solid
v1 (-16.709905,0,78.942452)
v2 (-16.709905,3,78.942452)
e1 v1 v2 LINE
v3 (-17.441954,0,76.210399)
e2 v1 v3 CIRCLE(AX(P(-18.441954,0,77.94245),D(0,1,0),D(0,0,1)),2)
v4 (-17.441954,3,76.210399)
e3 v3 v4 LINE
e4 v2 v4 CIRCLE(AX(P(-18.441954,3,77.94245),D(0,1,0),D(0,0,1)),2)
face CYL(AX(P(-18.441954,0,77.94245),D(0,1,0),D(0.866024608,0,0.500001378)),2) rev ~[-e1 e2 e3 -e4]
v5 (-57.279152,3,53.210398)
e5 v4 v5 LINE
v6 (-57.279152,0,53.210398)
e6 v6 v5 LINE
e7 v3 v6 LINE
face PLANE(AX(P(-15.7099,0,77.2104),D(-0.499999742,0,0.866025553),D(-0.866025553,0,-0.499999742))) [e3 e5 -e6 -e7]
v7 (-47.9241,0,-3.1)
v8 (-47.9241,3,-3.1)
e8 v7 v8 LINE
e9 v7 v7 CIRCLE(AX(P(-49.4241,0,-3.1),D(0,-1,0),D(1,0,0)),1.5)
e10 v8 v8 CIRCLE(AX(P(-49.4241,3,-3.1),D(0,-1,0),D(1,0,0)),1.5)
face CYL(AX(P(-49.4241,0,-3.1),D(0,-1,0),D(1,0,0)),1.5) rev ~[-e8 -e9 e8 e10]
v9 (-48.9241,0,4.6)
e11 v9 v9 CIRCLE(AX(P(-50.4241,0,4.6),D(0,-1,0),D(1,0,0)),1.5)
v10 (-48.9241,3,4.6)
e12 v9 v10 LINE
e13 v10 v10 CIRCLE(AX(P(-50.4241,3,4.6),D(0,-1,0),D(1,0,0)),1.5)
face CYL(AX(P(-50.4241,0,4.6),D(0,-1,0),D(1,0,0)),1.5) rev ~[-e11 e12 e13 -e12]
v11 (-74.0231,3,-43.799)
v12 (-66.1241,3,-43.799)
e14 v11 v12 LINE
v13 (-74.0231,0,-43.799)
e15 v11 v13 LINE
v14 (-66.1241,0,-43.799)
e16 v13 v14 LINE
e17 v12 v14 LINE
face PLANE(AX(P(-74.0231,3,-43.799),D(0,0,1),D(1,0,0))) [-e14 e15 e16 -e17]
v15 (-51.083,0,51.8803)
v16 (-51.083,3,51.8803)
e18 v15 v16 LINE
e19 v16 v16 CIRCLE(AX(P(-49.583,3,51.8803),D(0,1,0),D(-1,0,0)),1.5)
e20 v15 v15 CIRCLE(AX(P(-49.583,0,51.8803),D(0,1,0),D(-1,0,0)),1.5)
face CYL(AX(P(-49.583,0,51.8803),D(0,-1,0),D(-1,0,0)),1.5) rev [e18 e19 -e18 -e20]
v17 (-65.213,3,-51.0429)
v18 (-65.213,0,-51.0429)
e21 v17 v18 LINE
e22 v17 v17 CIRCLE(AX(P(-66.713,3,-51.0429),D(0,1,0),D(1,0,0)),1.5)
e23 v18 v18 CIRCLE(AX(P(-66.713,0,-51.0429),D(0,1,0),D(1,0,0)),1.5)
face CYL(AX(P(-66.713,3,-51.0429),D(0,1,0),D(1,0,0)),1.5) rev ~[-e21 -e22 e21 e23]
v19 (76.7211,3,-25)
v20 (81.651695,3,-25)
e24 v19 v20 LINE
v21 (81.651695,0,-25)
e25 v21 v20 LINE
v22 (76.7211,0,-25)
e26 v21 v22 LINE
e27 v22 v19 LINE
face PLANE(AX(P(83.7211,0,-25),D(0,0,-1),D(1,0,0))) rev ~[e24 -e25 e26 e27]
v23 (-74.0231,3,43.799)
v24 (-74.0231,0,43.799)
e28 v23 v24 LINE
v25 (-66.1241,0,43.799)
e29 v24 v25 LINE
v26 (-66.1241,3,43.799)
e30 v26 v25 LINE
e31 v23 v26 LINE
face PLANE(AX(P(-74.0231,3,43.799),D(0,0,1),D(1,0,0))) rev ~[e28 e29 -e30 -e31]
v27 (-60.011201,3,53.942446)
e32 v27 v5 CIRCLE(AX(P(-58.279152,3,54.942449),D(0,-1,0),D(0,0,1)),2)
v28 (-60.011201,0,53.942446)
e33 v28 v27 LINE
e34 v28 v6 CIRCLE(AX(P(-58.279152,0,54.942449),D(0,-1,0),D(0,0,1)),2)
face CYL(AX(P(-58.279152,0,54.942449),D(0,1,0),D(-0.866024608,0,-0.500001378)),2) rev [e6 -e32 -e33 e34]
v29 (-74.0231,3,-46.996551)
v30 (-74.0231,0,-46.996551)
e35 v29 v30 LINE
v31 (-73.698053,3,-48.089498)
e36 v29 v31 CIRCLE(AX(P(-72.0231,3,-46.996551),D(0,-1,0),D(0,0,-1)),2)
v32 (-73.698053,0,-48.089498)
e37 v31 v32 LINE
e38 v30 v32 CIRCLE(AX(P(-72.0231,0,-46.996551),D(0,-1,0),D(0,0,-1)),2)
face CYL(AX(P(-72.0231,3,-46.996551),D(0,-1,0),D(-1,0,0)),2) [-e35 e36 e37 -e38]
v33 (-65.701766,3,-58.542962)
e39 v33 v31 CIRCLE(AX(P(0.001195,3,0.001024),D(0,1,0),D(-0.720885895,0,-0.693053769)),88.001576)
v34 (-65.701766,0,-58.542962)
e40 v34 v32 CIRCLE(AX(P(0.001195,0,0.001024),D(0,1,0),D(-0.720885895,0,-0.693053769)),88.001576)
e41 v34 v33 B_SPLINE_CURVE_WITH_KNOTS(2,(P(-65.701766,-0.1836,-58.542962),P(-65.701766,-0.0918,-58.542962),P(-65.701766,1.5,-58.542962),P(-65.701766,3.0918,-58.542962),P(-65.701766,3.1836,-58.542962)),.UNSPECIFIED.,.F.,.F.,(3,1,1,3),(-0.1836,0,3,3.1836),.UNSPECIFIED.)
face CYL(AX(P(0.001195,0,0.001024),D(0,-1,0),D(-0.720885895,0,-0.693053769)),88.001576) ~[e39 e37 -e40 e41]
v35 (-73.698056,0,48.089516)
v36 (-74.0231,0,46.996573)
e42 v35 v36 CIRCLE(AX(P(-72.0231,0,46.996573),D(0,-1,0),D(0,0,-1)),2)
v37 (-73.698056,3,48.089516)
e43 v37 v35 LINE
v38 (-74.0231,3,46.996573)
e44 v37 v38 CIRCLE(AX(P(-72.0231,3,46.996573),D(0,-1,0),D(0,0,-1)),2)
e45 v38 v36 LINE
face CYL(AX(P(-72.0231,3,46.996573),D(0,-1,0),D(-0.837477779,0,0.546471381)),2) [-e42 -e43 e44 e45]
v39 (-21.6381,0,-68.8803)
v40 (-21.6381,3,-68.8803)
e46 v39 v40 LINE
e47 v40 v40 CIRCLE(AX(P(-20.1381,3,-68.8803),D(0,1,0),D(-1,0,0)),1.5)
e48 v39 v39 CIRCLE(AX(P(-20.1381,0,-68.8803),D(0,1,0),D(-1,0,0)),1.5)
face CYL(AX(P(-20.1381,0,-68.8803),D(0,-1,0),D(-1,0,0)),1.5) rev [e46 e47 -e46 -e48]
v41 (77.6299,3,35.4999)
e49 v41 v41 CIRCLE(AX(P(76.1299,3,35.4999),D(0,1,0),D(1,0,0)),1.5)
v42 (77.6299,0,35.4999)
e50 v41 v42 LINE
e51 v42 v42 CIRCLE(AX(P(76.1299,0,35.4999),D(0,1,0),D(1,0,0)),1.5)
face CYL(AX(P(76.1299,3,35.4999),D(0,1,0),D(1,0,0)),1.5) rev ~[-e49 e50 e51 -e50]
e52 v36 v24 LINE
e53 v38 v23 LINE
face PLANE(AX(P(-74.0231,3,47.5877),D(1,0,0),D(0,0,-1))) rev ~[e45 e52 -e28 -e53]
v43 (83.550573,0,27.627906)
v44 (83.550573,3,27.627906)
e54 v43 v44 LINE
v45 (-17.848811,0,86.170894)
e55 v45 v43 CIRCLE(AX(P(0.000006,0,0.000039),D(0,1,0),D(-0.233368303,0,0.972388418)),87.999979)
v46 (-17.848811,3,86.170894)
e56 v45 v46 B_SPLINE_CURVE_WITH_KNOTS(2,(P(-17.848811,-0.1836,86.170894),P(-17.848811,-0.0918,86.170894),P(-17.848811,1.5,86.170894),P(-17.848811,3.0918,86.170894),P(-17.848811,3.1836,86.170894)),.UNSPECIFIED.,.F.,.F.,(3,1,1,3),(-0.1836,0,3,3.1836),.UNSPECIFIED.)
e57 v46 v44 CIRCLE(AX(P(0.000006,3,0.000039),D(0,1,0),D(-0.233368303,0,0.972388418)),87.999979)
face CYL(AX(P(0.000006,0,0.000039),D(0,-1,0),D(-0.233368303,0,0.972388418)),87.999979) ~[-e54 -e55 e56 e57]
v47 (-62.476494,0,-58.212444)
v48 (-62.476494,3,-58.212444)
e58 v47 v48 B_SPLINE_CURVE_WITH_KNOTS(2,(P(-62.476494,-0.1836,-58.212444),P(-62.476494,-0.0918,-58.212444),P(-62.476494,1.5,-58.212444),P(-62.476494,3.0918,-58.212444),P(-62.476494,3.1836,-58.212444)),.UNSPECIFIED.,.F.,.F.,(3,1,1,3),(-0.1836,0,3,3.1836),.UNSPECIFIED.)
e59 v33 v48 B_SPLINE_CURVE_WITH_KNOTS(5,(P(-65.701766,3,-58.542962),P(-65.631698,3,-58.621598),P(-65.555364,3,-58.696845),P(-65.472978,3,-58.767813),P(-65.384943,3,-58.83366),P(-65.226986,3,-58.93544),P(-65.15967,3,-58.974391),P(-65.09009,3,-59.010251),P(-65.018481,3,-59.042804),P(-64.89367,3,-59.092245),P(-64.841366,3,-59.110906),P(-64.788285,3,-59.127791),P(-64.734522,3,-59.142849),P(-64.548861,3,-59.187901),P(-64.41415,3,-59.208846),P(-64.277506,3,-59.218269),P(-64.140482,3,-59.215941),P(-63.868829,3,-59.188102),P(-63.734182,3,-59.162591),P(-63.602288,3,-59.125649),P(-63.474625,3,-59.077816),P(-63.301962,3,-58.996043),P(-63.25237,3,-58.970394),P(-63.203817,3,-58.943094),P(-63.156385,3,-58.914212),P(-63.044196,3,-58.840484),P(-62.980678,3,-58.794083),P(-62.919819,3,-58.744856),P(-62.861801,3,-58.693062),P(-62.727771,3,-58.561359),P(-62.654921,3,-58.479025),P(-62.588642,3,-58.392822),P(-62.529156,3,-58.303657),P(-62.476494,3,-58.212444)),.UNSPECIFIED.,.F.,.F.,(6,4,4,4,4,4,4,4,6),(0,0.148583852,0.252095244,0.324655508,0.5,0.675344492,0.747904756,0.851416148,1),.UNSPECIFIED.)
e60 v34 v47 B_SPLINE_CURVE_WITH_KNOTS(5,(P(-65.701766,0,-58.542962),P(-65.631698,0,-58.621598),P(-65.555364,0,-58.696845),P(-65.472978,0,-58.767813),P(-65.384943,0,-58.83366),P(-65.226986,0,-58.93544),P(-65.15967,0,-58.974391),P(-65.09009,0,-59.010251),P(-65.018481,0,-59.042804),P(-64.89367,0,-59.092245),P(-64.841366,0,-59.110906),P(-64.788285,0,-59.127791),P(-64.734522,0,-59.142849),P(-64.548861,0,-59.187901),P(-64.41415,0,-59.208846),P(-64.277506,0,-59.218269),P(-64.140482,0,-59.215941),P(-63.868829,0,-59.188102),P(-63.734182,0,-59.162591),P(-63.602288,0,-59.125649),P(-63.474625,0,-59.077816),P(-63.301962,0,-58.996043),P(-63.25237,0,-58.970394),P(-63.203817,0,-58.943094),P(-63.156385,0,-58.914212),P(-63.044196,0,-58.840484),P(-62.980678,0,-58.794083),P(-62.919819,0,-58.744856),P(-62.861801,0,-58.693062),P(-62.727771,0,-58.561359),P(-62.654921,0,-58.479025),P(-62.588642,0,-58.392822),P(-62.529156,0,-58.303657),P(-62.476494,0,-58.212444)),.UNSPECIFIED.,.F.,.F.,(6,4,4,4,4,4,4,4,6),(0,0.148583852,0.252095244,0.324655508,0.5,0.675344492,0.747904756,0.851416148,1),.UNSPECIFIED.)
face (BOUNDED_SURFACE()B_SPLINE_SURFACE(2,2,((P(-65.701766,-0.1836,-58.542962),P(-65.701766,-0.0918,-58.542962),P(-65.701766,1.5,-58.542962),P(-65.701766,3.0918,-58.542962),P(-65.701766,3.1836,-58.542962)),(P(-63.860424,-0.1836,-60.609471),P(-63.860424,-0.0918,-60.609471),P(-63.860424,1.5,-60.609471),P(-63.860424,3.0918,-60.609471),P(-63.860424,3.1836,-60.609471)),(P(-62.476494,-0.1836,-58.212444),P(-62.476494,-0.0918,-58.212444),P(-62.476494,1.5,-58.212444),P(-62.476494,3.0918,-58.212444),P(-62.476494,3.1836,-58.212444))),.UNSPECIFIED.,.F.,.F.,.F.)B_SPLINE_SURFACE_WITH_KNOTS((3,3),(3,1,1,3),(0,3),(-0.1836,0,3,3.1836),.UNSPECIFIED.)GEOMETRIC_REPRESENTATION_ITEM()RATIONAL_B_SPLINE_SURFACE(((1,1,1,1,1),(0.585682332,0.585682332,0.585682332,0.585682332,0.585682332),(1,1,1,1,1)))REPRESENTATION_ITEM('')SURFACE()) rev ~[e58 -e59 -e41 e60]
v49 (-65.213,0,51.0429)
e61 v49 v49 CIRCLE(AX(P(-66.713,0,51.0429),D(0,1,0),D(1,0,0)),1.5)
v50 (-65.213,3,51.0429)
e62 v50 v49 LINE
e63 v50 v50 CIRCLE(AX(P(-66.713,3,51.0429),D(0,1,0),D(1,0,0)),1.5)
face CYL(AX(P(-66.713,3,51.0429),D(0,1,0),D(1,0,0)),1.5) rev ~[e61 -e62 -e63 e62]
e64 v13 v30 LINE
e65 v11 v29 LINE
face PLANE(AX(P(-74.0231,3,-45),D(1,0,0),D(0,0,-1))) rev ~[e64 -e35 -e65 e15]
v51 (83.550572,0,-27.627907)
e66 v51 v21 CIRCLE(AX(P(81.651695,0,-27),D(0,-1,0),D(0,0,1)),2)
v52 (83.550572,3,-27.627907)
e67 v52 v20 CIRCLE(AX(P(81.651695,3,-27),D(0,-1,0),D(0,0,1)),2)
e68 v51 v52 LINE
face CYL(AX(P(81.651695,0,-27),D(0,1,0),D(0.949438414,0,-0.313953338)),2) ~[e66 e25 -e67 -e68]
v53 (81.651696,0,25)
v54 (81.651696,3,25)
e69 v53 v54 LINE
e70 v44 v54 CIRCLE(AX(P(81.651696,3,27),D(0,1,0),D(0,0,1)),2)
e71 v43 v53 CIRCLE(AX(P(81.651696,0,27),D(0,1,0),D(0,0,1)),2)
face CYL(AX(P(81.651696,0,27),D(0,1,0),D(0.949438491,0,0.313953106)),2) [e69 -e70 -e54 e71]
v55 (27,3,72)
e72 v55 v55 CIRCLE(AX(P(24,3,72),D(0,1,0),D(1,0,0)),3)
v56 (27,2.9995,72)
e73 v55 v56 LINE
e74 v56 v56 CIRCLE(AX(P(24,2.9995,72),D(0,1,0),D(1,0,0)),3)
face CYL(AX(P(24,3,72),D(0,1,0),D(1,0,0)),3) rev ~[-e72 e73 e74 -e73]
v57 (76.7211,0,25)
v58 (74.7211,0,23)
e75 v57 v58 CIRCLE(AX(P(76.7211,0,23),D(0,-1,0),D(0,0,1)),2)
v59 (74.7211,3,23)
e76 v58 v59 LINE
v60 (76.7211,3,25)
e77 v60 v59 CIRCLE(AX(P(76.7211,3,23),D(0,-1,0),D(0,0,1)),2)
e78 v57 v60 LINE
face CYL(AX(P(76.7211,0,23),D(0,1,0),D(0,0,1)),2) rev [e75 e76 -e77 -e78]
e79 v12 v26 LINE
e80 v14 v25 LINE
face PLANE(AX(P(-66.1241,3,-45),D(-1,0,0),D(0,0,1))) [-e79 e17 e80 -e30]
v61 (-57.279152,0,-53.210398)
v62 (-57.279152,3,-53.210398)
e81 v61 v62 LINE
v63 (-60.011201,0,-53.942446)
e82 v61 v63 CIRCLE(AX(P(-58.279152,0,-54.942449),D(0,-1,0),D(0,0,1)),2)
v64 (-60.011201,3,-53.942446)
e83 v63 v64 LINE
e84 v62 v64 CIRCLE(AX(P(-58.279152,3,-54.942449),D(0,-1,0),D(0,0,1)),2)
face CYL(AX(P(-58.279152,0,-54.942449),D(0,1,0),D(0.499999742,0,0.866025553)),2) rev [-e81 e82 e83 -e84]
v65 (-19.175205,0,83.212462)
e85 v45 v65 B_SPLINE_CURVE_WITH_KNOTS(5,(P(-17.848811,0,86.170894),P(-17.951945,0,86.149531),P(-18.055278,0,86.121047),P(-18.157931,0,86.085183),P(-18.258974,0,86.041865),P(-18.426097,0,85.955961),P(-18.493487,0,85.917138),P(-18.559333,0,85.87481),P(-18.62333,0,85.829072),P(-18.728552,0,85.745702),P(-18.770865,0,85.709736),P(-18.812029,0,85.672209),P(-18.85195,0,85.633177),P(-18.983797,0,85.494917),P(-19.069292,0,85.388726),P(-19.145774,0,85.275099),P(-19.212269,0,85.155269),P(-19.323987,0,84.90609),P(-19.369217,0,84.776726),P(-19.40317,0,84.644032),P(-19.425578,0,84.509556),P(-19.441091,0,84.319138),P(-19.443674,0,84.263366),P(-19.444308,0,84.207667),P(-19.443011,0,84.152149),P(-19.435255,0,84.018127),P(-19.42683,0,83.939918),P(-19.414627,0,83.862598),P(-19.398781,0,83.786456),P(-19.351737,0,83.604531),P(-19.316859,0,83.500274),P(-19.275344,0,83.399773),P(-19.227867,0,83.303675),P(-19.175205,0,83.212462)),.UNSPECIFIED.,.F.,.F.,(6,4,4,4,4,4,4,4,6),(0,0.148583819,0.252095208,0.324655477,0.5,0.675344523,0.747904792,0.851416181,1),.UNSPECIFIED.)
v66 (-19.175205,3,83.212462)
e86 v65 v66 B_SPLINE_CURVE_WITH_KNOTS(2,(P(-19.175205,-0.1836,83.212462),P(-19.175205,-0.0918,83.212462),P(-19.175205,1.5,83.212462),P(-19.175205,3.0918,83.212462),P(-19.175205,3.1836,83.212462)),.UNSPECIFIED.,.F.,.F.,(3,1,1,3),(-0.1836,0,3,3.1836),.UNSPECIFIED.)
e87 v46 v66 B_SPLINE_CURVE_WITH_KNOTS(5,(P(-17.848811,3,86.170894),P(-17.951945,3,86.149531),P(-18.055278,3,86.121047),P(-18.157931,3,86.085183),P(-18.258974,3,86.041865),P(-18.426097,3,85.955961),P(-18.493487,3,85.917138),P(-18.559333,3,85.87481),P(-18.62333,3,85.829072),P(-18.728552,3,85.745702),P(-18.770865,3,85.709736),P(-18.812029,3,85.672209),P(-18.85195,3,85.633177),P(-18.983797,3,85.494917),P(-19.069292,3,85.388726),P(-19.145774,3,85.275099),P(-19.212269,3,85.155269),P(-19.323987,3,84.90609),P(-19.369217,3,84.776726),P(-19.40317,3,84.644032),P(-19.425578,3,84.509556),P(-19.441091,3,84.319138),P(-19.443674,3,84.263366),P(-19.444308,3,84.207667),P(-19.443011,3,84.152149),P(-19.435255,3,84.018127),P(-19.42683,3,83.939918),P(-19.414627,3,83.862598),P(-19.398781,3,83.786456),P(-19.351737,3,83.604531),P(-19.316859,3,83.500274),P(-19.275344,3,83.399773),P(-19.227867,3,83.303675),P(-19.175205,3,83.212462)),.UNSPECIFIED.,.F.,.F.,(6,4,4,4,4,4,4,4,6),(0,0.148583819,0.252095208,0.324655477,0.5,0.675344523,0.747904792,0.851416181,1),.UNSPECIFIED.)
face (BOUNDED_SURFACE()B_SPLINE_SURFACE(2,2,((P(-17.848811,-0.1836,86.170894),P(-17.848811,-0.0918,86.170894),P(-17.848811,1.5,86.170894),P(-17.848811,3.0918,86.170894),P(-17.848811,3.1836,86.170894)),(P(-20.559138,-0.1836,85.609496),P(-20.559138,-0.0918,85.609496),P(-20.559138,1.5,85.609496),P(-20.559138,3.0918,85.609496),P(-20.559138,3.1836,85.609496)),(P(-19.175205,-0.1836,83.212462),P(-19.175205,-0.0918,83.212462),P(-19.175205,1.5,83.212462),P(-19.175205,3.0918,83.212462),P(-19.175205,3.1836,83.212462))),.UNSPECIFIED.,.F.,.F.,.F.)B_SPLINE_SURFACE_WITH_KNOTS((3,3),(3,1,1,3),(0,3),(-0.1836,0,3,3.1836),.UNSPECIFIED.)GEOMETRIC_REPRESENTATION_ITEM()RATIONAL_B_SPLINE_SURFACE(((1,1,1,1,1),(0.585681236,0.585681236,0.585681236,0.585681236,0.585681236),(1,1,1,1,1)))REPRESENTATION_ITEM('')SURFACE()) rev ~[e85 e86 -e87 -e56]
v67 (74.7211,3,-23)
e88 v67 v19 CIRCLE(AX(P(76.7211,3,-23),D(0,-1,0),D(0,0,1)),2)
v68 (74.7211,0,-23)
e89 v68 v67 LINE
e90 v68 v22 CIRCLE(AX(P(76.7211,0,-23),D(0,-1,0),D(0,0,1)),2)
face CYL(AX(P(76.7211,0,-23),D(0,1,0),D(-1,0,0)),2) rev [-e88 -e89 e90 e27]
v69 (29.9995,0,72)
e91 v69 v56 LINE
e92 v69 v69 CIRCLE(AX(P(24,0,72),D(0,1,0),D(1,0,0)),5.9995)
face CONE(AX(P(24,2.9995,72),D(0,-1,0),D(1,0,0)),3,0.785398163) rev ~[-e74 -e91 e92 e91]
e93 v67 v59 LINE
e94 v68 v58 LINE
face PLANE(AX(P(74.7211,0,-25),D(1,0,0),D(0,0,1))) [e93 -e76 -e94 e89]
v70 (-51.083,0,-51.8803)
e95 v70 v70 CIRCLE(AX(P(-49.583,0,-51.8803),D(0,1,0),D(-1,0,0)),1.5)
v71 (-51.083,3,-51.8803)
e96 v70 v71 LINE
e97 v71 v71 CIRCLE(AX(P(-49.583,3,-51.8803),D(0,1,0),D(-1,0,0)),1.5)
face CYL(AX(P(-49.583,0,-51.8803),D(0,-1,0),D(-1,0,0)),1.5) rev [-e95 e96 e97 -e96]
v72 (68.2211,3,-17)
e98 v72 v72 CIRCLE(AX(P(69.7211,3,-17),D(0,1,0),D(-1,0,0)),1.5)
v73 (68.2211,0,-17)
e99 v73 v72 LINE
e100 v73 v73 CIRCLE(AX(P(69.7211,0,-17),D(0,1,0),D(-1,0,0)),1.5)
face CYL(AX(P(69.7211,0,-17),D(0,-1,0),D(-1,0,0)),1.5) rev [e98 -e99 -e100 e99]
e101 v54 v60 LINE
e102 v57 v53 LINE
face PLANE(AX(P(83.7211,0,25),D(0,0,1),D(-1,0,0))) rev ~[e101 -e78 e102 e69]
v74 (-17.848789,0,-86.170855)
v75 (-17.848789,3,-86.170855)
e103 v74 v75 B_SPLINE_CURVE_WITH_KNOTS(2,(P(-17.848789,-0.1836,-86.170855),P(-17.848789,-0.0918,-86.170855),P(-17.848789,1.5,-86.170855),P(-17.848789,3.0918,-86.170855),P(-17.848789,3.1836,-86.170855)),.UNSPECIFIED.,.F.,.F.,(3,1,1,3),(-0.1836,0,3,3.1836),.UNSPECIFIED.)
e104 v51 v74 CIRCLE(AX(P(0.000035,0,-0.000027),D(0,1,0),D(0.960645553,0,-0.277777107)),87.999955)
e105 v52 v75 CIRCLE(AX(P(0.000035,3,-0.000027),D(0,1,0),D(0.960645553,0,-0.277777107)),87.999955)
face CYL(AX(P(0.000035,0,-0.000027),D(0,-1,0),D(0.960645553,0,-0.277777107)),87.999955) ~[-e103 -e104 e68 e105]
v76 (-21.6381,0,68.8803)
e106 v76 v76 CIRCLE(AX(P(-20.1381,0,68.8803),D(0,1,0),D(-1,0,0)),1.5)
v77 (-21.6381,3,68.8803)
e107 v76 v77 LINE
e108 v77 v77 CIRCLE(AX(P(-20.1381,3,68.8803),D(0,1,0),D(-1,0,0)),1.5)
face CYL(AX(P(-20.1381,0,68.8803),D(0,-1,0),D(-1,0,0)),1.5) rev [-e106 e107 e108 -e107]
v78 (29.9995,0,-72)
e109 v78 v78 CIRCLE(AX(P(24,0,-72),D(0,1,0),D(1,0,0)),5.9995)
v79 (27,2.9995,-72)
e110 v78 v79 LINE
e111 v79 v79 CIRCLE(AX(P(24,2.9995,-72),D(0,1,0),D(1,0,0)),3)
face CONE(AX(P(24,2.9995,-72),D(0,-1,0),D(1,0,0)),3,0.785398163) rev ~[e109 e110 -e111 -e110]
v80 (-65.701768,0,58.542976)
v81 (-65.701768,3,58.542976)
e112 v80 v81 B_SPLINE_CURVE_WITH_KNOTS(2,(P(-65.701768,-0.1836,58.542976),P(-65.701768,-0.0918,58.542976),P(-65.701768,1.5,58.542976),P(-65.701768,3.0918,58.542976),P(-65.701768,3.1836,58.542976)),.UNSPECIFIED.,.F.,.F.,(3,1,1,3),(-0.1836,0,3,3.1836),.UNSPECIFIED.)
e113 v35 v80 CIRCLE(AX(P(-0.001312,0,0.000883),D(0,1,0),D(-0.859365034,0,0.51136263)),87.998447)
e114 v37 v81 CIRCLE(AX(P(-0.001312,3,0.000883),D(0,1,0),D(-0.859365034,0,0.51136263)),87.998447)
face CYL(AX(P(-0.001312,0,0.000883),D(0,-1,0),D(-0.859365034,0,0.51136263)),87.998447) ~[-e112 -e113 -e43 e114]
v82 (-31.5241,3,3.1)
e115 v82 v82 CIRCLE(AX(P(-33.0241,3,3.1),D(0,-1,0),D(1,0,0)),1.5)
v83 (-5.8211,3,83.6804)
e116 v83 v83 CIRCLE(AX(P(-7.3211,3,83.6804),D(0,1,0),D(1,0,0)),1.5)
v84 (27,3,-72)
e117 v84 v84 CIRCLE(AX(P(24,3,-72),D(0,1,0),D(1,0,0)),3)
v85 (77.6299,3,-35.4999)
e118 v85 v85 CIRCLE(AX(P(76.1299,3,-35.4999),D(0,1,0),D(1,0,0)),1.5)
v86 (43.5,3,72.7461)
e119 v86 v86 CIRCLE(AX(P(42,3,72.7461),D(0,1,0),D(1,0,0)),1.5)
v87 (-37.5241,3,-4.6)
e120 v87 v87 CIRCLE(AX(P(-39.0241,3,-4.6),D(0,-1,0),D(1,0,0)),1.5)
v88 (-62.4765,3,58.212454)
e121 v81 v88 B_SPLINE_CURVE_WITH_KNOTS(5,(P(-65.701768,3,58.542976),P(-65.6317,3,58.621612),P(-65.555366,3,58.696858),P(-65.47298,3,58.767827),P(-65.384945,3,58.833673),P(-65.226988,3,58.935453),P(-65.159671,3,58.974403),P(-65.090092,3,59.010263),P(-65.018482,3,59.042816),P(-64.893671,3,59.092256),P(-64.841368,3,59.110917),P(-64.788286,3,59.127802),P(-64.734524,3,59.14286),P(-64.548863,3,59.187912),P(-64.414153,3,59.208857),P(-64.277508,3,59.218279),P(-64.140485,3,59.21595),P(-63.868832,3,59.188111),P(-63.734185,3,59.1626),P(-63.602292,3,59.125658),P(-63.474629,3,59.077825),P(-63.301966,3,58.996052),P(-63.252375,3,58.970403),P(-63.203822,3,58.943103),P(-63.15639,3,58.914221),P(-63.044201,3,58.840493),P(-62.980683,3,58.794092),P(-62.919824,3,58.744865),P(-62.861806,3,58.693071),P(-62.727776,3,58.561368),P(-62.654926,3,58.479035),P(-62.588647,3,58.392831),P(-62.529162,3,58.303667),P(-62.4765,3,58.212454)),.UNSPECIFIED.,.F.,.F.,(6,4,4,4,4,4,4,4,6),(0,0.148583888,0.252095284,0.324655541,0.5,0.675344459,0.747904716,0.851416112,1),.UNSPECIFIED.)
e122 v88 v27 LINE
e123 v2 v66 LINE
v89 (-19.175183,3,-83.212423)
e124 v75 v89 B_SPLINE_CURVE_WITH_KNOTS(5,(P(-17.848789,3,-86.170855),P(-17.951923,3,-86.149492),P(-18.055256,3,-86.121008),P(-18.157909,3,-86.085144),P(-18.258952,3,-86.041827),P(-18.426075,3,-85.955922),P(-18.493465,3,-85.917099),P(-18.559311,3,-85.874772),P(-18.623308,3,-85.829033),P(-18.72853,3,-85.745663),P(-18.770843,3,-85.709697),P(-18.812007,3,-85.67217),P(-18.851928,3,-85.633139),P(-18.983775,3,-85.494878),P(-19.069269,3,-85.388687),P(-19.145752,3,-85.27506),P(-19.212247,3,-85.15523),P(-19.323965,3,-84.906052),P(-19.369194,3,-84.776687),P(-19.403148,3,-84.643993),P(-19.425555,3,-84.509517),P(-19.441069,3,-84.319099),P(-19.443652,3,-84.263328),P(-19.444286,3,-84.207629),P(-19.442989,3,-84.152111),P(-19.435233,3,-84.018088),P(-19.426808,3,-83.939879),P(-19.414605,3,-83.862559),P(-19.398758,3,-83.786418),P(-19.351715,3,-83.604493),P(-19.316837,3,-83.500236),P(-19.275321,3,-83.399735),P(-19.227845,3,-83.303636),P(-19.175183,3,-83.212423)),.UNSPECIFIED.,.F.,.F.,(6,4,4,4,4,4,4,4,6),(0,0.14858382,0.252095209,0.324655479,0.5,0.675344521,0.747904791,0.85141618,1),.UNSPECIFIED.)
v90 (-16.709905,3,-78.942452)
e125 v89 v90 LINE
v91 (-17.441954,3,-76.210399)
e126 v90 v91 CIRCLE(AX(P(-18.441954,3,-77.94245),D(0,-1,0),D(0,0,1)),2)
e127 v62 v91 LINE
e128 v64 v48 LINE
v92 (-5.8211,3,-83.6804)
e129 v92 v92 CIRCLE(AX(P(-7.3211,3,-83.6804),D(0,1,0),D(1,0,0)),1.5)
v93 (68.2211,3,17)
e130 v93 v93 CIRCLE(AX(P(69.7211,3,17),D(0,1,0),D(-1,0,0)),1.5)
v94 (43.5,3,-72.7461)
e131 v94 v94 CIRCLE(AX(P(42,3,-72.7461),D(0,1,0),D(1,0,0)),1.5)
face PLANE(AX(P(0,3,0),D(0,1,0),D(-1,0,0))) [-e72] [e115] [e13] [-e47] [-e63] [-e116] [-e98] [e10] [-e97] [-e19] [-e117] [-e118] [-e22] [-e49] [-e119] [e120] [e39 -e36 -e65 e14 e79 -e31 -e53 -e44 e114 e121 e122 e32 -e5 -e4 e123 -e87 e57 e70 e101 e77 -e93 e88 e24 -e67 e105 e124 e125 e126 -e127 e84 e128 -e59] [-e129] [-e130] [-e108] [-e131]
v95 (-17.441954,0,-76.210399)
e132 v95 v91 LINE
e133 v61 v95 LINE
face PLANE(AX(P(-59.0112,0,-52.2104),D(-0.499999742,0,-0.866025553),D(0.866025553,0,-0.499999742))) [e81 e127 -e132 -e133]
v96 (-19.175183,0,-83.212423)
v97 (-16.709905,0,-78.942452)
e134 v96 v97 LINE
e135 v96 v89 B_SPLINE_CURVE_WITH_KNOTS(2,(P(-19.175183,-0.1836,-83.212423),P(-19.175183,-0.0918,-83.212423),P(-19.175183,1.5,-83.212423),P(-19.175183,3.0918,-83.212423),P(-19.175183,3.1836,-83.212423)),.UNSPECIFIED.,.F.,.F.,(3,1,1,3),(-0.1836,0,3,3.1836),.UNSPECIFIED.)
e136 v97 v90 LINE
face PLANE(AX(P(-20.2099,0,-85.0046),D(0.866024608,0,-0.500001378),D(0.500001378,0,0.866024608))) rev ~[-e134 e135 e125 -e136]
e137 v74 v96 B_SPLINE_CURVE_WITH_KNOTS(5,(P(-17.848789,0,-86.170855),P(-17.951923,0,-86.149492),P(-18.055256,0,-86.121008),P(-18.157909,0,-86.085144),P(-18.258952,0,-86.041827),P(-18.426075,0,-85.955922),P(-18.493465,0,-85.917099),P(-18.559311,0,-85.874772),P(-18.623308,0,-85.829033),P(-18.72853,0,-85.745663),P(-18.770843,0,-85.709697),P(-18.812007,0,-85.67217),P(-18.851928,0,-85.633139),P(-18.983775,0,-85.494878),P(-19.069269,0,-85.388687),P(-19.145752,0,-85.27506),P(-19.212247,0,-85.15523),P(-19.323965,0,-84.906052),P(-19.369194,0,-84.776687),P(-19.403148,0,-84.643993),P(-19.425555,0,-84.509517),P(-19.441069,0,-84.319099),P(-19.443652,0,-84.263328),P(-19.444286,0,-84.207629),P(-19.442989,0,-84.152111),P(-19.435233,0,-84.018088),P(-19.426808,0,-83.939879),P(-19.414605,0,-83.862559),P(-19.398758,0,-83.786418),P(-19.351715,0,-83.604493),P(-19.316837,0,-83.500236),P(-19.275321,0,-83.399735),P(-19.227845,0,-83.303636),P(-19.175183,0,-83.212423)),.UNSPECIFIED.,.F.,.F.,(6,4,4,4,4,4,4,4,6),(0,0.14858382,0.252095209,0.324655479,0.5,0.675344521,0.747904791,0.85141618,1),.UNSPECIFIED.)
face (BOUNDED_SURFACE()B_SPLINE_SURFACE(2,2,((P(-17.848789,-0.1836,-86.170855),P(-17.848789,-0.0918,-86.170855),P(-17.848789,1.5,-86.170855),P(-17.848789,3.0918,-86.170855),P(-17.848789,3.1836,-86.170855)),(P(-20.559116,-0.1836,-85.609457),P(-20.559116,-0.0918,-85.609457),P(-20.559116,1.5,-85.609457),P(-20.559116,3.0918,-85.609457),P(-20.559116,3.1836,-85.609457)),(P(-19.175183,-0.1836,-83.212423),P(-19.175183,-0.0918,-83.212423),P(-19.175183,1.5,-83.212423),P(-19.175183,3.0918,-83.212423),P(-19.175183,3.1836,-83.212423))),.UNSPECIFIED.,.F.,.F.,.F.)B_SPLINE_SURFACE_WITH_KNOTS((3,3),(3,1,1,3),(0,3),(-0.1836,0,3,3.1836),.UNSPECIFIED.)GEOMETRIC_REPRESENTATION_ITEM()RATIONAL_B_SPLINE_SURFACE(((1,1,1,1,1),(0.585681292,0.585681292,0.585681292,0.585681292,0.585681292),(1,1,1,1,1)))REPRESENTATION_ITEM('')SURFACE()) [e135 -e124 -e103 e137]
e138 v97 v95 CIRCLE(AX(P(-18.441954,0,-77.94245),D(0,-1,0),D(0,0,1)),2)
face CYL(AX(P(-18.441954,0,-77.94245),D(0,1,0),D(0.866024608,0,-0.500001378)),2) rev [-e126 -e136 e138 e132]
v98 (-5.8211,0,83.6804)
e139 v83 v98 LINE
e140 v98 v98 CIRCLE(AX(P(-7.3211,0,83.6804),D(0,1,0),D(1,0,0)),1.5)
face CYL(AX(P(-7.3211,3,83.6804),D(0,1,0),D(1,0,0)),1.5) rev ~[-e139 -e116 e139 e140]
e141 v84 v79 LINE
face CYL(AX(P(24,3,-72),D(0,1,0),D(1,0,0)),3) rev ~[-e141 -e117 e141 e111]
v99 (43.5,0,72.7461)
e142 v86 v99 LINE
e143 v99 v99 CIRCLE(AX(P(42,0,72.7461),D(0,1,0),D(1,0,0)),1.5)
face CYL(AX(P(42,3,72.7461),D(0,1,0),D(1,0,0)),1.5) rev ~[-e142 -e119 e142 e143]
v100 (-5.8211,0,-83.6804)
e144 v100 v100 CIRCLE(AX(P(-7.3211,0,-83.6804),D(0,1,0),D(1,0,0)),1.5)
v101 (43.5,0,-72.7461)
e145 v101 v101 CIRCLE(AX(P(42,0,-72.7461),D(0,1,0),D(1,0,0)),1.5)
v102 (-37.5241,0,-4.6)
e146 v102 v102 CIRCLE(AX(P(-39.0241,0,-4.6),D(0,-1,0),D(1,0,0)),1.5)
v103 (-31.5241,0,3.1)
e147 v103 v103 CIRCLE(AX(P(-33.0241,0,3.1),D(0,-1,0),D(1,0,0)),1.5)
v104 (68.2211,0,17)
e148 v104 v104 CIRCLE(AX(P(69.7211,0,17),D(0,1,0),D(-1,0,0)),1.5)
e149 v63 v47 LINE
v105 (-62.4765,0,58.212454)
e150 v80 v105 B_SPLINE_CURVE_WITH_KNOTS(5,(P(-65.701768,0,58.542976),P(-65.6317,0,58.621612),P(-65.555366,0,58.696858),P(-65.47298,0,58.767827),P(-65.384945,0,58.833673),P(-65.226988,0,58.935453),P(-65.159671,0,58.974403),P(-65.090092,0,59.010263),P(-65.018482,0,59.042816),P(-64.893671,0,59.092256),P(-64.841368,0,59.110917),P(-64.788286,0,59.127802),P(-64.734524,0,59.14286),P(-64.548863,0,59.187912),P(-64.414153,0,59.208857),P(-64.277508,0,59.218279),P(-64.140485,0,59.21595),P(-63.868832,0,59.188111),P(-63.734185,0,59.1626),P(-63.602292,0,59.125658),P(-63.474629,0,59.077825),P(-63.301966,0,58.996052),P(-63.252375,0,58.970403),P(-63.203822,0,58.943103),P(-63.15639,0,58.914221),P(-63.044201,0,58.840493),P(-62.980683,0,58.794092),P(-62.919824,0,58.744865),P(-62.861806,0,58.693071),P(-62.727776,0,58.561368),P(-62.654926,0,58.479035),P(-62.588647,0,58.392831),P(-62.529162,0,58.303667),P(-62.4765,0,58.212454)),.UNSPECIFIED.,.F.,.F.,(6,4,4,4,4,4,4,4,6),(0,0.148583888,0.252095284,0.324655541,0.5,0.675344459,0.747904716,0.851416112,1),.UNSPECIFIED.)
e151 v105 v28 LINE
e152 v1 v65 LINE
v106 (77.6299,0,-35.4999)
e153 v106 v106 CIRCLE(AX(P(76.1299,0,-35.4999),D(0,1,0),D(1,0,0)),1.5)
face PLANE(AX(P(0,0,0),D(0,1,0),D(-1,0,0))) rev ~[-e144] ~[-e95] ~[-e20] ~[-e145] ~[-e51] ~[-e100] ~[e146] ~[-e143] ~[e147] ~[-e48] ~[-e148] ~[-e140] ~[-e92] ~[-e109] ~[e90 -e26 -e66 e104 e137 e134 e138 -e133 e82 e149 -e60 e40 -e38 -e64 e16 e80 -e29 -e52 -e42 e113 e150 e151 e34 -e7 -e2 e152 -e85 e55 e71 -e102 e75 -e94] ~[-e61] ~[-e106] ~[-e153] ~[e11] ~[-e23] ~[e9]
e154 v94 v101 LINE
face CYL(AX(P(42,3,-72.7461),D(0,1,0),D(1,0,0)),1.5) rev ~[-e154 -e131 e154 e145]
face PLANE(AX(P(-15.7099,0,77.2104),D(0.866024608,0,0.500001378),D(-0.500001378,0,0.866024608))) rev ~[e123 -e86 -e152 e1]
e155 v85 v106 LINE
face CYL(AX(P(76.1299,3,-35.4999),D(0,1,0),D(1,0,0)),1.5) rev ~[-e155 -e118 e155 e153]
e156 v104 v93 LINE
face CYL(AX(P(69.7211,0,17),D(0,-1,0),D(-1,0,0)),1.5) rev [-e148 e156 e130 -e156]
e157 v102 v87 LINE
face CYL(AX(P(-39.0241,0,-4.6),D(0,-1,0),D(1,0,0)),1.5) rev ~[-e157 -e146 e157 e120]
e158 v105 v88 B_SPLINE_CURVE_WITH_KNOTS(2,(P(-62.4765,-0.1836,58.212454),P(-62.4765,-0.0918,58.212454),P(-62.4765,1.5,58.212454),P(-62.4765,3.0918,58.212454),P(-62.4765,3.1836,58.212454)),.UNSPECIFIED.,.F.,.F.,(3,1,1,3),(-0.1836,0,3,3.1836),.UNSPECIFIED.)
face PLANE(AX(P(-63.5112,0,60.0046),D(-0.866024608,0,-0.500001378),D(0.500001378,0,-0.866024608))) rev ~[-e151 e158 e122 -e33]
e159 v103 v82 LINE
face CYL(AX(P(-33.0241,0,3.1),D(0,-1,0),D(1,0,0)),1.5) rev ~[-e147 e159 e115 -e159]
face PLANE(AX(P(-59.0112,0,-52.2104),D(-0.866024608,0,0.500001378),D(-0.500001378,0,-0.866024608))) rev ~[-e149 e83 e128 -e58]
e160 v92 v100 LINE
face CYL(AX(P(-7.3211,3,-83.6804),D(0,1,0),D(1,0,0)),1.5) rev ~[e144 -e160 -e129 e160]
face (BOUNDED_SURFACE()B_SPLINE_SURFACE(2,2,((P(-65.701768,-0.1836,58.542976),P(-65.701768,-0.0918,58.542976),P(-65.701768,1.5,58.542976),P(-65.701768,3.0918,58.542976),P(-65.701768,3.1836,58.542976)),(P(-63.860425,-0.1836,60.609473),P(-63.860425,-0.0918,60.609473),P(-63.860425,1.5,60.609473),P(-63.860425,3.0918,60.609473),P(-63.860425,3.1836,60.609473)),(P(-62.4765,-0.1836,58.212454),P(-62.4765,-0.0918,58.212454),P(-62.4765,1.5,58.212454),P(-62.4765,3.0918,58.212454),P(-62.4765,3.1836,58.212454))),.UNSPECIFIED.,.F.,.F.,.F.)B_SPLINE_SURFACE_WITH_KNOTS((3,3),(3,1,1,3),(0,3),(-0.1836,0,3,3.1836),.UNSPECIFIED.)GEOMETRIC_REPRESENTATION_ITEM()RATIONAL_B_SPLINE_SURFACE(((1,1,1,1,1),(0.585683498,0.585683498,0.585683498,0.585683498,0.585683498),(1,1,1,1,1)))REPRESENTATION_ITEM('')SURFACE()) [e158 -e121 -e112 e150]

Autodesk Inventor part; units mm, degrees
ref_plane "YZ Plane" through (0, 0, 0) normal (1, 0, 0) x (0, 1, 0)
ref_plane "XZ Plane" through (0, 0, 0) normal (0, 1, 0) x (-1, 0, 0)
ref_plane "XY Plane" through (0, 0, 0) normal (0, 0, 1) x (1, 0, 0)
sketch "Эскиз1" plane through (0, 0, 0) normal (0, 1, 0) x (-1, 0, 0)
  arc A0 (75.6241, 45) -> (63.8377, 60.5702) centre (0, 0) ccw
  line L0 (0, 0) -> (-88, 0) construction
  line L1 (0, 0) -> (44, 76.2102) construction
  line L2 (0, 0) -> (44, -76.2102) construction
  line L3 (75.6241, 45) -> (75.6241, -45)
  arc A1 (75.6241, -45) -> (75.6241, 45) centre (0, 0) ccw construction
  line L4 (15.7099, 77.2104) -> (59.0112, 52.2104)
  line L5 (15.7099, 77.2104) -> (20.2099, 85.0046)
  line L6 (20.2099, 85.0046) -> (63.5112, 60.0046) construction
  line L7 (63.5112, 60.0046) -> (59.0112, 52.2104)
  line L8 (35.7984, 76.0046) -> (37.7984, 79.4687) construction
  line L9 (37.7984, 79.4687) -> (49.9228, 72.4687) construction
  line L10 (49.9228, 72.4687) -> (47.9228, 69.0046) construction
  line L11 (48.1859, 58.4604) -> (14.6859, 0.4367) construction
  line L12 (26.5353, 70.9604) -> (-6.9647, 12.9367) construction
  line L13 (-6.9647, 12.9367) -> (14.6859, 0.4367) construction
  line L14 (20.2099, 85.0046) -> (20.5364, 85.5702)
  line L15 (63.5112, 60.0046) -> (63.8377, 60.5702)
  arc A2 (63.8377, 60.5702) -> (20.5364, 85.5702) centre (0, 0) ccw construction
  arc A3 (20.5364, 85.5702) -> (-84.5368, 24.4444) centre (0, 0) ccw
  arc A4 (63.4379, -60.9888) -> (75.6241, -45) centre (0, 0) ccw
  arc A5 (21.0989, -85.4332) -> (63.4379, -60.9888) centre (0, 0) ccw construction
  arc A6 (-84.5368, 24.4444) -> (-84.5368, -24.4444) centre (0, 0) ccw construction
  arc A7 (-84.5368, -24.4444) -> (21.0989, -85.4332) centre (0, 0) ccw
  line L16 (-83.7211, 25) -> (-74.7211, 25)
  line L17 (-74.7211, -25) -> (-74.7211, 25)
  line L18 (-83.7211, -25) -> (-83.7211, 25) construction
  line L19 (-87.7211, 7) -> (-83.7211, 7) construction
  line L20 (-87.7211, -7) -> (-87.7211, 7) construction
  line L21 (-83.7211, -7) -> (-87.7211, -7) construction
  line L22 (-74.7211, -25) -> (-83.7211, -25)
  line L23 (-83.7211, 25) -> (-84.3742, 25)
  line L24 (-83.7211, -25) -> (-84.3742, -25)
  line L25 (0, 0) -> (-88, 0) construction
  line L26 (-74.7211, 12.5) -> (-7.7211, 12.5) construction
  line L27 (-74.7211, -12.5) -> (-7.7211, -12.5) construction
  line L28 (-7.7211, -12.5) -> (-7.7211, 12.5) construction
  line L29 (20.2099, -85.0046) -> (15.7099, -77.2104)
  line L30 (59.0112, -52.2104) -> (15.7099, -77.2104)
  line L31 (63.5112, -60.0046) -> (20.2099, -85.0046) construction
  line L32 (37.7984, -79.4687) -> (35.7984, -76.0046) construction
  line L33 (49.9228, -72.4687) -> (37.7984, -79.4687) construction
  line L34 (47.9228, -69.0046) -> (49.9228, -72.4687) construction
  line L35 (59.0112, -52.2104) -> (63.5112, -60.0046)
  line L36 (20.2099, -85.0046) -> (20.5364, -85.5702)
  line L37 (63.5112, -60.0046) -> (63.8377, -60.5702)
  line L38 (0, 0) -> (44, -76.2102) construction
  line L39 (26.5353, -70.9604) -> (-6.9647, -12.9367) construction
  line L40 (48.1859, -58.4604) -> (14.6859, -0.4367) construction
  line L41 (14.6859, -0.4367) -> (-6.9647, -12.9367) construction
  line L42 (15.7099, 77.2104) -> (10.7099, 68.5502) construction
  line L43 (10.7099, 68.5502) -> (54.0112, 43.5502) construction
  line L44 (54.0112, 43.5502) -> (59.0112, 52.2104) construction
  line L45 (13.2099, 72.8803) -> (56.5112, 47.8803) construction
  circle A8 centre (49.583, 51.8803) radius 1.5
  circle A9 centre (20.1381, 68.8803) radius 1.5
  circle A10 centre (-69.7211, 17) radius 1.5
  circle A11 centre (-69.7211, -17) radius 1.5
  circle A12 centre (20.1381, -68.8803) radius 1.5
  circle A13 centre (49.583, -51.8803) radius 1.5
  dimension "d0" = 176
  dimension "d1" = 120
  dimension "d2" = 120
  dimension "d9" = 90
  dimension "d14" = 50
  dimension "d15" = 25
  dimension "d16" = 9
  dimension "d18" = 4
  dimension "d19" = 14
  dimension "d20" = 7
  dimension "d21" = 67
  dimension "d22" = 12.5
  dimension "d33" = 360
  dimension "d37" = 10
  dimension "d38" = 3
  dimension "d39" = 8
  dimension "d40" = 3
  dimension "d41" = 8
  dimension "d44" = 360
  dimension "d101" = 75.6241
extrude "Выдавливание1" add sketch "Эскиз1" along normal blind 3
sketch "Эскиз4" plane through (0, 3, 0) normal (0, 1, 0) x (1, 0, 0)
  line L0 (-75.6241, 45) -> (-75.6241, -45) projected
  line L1 (-75.6241, 45) -> (-66.1241, 45)
  line L2 (-66.1241, 45) -> (-66.1241, -45)
  line L3 (-66.1241, -45) -> (-75.6241, -45)
  line L4 (-75.6241, -45) -> (-75.6241, 45)
  point P0 (0, 0)
  dimension "d64" = 9.5
  dimension "d65" = 90
extrude "Выдавливание3" cut sketch "Эскиз4" against normal through all
fillet "Сопряжение3" radius 2 4 edges at (-63.8377, 1.5, 60.5702) (-20.5364, 1.5, 85.5702) (-59.0112, 1.5, 52.2104) (-15.7099, 1.5, 77.2104)
sketch "Эскиз6" plane through (0, 3, 0) normal (0, 1, 0) x (1, 0, 0)
  circle A0 centre (0, 0) radius 80 construction
  arc A1 (-75.6241, -45) -> (-65.7018, -58.543) centre (0, 0) ccw projected
  line L0 (-62.4765, -58.2124) -> (-60.0112, -53.9425) projected
  line L1 (-57.2792, -53.2104) -> (-17.442, -76.2104) projected
  line L2 (-16.7099, -78.9425) -> (-19.1752, -83.2124) projected
  arc A2 (-17.8488, -86.1709) -> (84.3742, -25) centre (0, 0) ccw projected
  line L3 (84.3742, -25) -> (74.7211, -25) projected
  line L4 (74.7211, -25) -> (74.7211, 25) projected
  line L5 (74.7211, 25) -> (84.3742, 25) projected
  arc A3 (84.3742, 25) -> (-20.5364, 85.5702) centre (0, 0) ccw projected
  line L6 (-20.5364, 85.5702) -> (-15.7099, 77.2104) projected
  line L7 (-15.7099, 77.2104) -> (-59.0112, 52.2104) projected
  line L8 (-59.0112, 52.2104) -> (-63.8377, 60.5702) projected
  arc A4 (-63.8377, 60.5702) -> (-75.6241, 45) centre (0, 0) ccw projected
  line L9 (-75.6241, 45) -> (-66.1241, 45) projected
  line L10 (-66.1241, 45) -> (-66.1241, -45) projected
  line L11 (-66.1241, -45) -> (-75.6241, -45) projected
  circle A5 centre (69.7211, -17) radius 1.5 projected
  circle A6 centre (69.7211, 17) radius 1.5 projected
  circle A7 centre (-49.583, 51.8803) radius 1.5 projected
  circle A8 centre (-20.1381, 68.8803) radius 1.5 projected
  circle A9 centre (-20.1381, -68.8803) radius 1.5 projected
  circle A10 centre (-49.583, -51.8803) radius 1.5 projected
  line L12 (0, 0) -> (44, -76.2102) construction
  circle A11 centre (42, -72.7461) radius 1.5
  line L13 (0, 0) -> (-7.6697, -87.6651) construction
  line L14 (0, 0) -> (79.7551, -37.1904) construction
  circle A12 centre (76.1299, -35.4999) radius 1.5
  line L15 (-7.6697, -87.6651) -> (-7.3211, -83.6804) construction
  circle A13 centre (-7.3211, -83.6804) radius 1.5
  line L16 (74.7211, 0) -> (0, 0) construction
  circle A14 centre (42, 72.7461) radius 1.5
  circle A15 centre (76.1299, 35.4999) radius 1.5
  circle A16 centre (-7.3211, 83.6804) radius 1.5
  circle A17 centre (-66.713, -51.0429) radius 1.5
  arc A18 (-75.6241, -45) -> (-65.7018, -58.543) centre (0, 0) ccw projected
  circle A19 centre (-66.713, 51.0429) radius 1.5
  line L17 (0, 0) -> (0, -144.8354) construction
  arc A20 (-19.1752, -83.2124) -> (-17.8488, -86.1709) centre (-17.4432, -84.2124) ccw projected
  arc A21 (-65.7018, -58.543) -> (-62.4765, -58.2124) centre (-64.2085, -57.2124) ccw projected
  arc A22 (-57.2792, -53.2104) -> (-60.0112, -53.9425) centre (-58.2792, -54.9425) ccw projected
  arc A23 (-16.7099, -78.9425) -> (-17.442, -76.2104) centre (-18.442, -77.9425) ccw projected
  circle A24 centre (0, 0) radius 88 construction
  line L18 (-74.0208, -47.5911) -> (-74.0208, 47.5911) construction
  arc A25 (-72.0208, -45) -> (-73.6957, -48.093) centre (-72.0208, -47) ccw projected
  line L19 (0, 0) -> (-73.6957, -48.093) construction
  arc A26 (-72.0208, -45) -> (-73.6957, -48.093) centre (-72.0208, -47) ccw
  line L20 (-72.0208, -47) -> (-72.0208, -45) construction
  line L21 (0, 0) -> (-69.8898, -53.4735) construction
  point P0 (45.1871, -75.5124)
  dimension "d71" = 8
  dimension "d72" = 120
  dimension "d73" = 60
  dimension "d74" = 3
  dimension "d76" = 25
  dimension "d77" = 25
  dimension "d78" = 3
  dimension "d79" = 4
  dimension "d82" = 4
  dimension "d83" = 3
  dimension "d85" = 3
  dimension "d87" = 3
  dimension "d127" = 5
  dimension "d141" = 95.1823
  dimension "d142" = 123.128
  dimension "d146" = 30
  dimension "d147" = 65
  dimension "d148" = 4
  dimension "d154" = 52.58
  dimension "d155" = 4
extrude "Выдавливание4" cut sketch "Эскиз6" against normal through all contours A11 | A12 | A13 | A14 | A15 | A16 | A17 | A19
sketch "Эскиз10" plane through (0, 0, 0) normal (0, -1, 0) x (1, 0, 0)
  circle A0 centre (-50.4241, 4.6) radius 1.5
  circle A1 centre (-49.4241, -3.1) radius 1.5
  circle A2 centre (-33.0241, 3.1) radius 1.5
  circle A3 centre (-39.0241, -4.6) radius 1.5
  line L0 (-27.5241, -8.1) -> (-57.9241, -8.1)
  line L1 (-57.9241, 8.1) -> (-57.9241, -8.1)
  line L2 (-27.5241, 8.1) -> (-57.9241, 8.1)
  line L3 (-27.5241, 8.1) -> (-27.5241, -8.1)
  line L4 (-66.1241, 45) -> (-66.1241, -45) projected
  line L5 (-66.1241, 0) -> (0, 0) construction
  line L6 (-43.9241, 18) -> (-53.9241, 18)
  line L7 (-53.9241, 18) -> (-53.9241, -18)
  line L8 (-53.9241, -18) -> (-43.9241, -18)
  line L9 (-43.9241, -18) -> (-43.9241, 18)
  line L10 (-43.9241, 18) -> (-53.9241, -18) construction
  line L11 (-53.9241, 18) -> (-43.9241, -18) construction
  line L12 (-48.9241, -18) -> (-48.9241, -14) construction
  circle A4 centre (-48.9241, -14) radius 1.5 construction
  circle A5 centre (-48.9241, 14) radius 1.5 construction
  circle A6 centre (0, 0) radius 88
  line L13 (-74.0208, -47.5911) -> (-74.0208, 47.5911)
  arc A7 (-73.6957, 48.093) -> (-72.0208, 45) centre (-72.0208, 47) ccw projected
  arc A8 (-72.0208, -45) -> (-73.6957, -48.093) centre (-72.0208, -47) ccw projected
  point P0 (-66.1241, 43)
  point P1 (-66.1241, -43)
  point P2 (-57.9241, 0)
  point P3 (-48.9241, 0)
  point P4 (-75.6241, -44.4466)
  dimension "d105" = 5
  dimension "d106" = 8.5
  dimension "d107" = 30.4
  dimension "d108" = 16.2
  dimension "d109" = 3.5
  dimension "d110" = 11.5
  dimension "d111" = 5
  dimension "d112" = 5.5
  dimension "d113" = 3.5
  dimension "d114" = 7.5
  dimension "d115" = 8.2
  dimension "d116" = 3
  dimension "d117" = 3
  dimension "d118" = 3
  dimension "d119" = 3
  dimension "d122" = 10
  dimension "d123" = 36
  dimension "d124" = 4
  dimension "d125" = 4
  dimension "d126" = 3
  dimension "d128" = 95.1823
extrude "Выдавливание6" cut sketch "Эскиз10" against normal blind 10 contours A0 | A1 | A2 | A3
sketch "Эскиз11" plane through (0, 3, 0) normal (0, 1, 0) x (1, 0, 0)
  arc A0 (-20.5364, -85.5702) -> (84.3742, -25) centre (0, 0) ccw projected
  line L0 (24, -84.664) -> (24, 84.664) construction
  arc A1 (84.3742, 25) -> (-20.5364, 85.5702) centre (0, 0) ccw projected
  circle A2 centre (24, -72) radius 3
  circle A3 centre (24, 72) radius 3
  point P0 (-17.8488, -86.1709)
  point P1 (83.5506, -27.6279)
  point P2 (83.5506, 27.6279)
  point P3 (-17.8488, 86.1709)
  dimension "d129" = 24
  dimension "d130" = 6
  dimension "d131" = 6
  dimension "d132" = 72
  dimension "d133" = 72
extrude "Выдавливание7" cut sketch "Эскиз11" against normal blind 10
chamfer "Фаска1" distance 3 angle 45 2 edges at (21, 0, 72) (21, 0, -72)
pattern_circular "Круговой массив3" count 3 over 360 about axis through (0, 0, 0) along (0, 1, 0) of "Сопряжение3"
sketch "Эскиз12" plane through (0, 3, 0) normal (0, 1, 0) x (1, 0, 0)
  arc A0 (-75.6241, -45) -> (-65.7018, -58.543) centre (0, 0) ccw projected
  line L0 (-74.0231, -47.5877) -> (-74.0231, 47.5877)
  arc A1 (-65.7018, 58.543) -> (-75.6241, 45) centre (0, 0) ccw projected
  circle A2 centre (-50.4241, -4.6) radius 1.5 projected
  circle A3 centre (-39.0241, 4.6) radius 1.5 projected
  circle A4 centre (-49.4241, 3.1) radius 1.5 projected
  circle A5 centre (-33.0241, -3.1) radius 1.5 projected
  circle A6 centre (-7.3211, 83.6804) radius 1.5 projected
  circle A7 centre (42, -72.7461) radius 1.5 projected
  circle A8 centre (76.1299, -35.4999) radius 1.5 projected
  circle A9 centre (-66.713, 51.0429) radius 1.5 projected
  circle A10 centre (42, 72.7461) radius 1.5 projected
  circle A11 centre (-7.3211, -83.6804) radius 1.5 projected
  circle A12 centre (76.1299, 35.4999) radius 1.5 projected
  circle A13 centre (-66.713, -51.0429) radius 1.5 projected
  circle A14 centre (-49.583, -51.8803) radius 1.5 projected
  circle A15 centre (-20.1381, -68.8803) radius 1.5 projected
  circle A16 centre (-20.1381, 68.8803) radius 1.5 projected
  circle A17 centre (-49.583, 51.8803) radius 1.5 projected
  circle A18 centre (69.7211, 17) radius 1.5 projected
  circle A19 centre (69.7211, -17) radius 1.5 projected
  arc A20 (-62.4765, 58.2124) -> (-65.7018, 58.543) centre (-64.2085, 57.2124) ccw projected
  arc A21 (-65.7018, 58.543) -> (-75.6241, 45) centre (0, 0) ccw projected
  line L1 (-75.6241, 45) -> (-66.1241, 45) projected
  line L2 (-66.1241, 45) -> (-66.1241, -45) projected
  line L3 (-66.1241, -45) -> (-75.6241, -45) projected
  arc A22 (-75.6241, -45) -> (-65.7018, -58.543) centre (0, 0) ccw projected
  arc A23 (-65.7018, -58.543) -> (-62.4765, -58.2124) centre (-64.2085, -57.2124) ccw projected
  line L4 (-62.4765, -58.2124) -> (-60.0112, -53.9425) projected
  arc A24 (-57.2792, -53.2104) -> (-60.0112, -53.9425) centre (-58.2792, -54.9425) ccw projected
  line L5 (-57.2792, -53.2104) -> (-17.442, -76.2104) projected
  arc A25 (-16.7099, -78.9425) -> (-17.442, -76.2104) centre (-18.442, -77.9425) ccw projected
  line L6 (-16.7099, -78.9425) -> (-19.1752, -83.2124) projected
  arc A26 (-19.1752, -83.2124) -> (-17.8488, -86.1709) centre (-17.4432, -84.2124) ccw projected
  arc A27 (-17.8488, -86.1709) -> (83.5506, -27.6279) centre (0, 0) ccw projected
  arc A28 (83.5506, -27.6279) -> (81.6517, -25) centre (81.6517, -27) ccw projected
  line L7 (81.6517, -25) -> (76.7211, -25) projected
  arc A29 (74.7211, -23) -> (76.7211, -25) centre (76.7211, -23) ccw projected
  line L8 (74.7211, -23) -> (74.7211, 23) projected
  arc A30 (76.7211, 25) -> (74.7211, 23) centre (76.7211, 23) ccw projected
  line L9 (76.7211, 25) -> (81.6517, 25) projected
  arc A31 (81.6517, 25) -> (83.5506, 27.6279) centre (81.6517, 27) ccw projected
  arc A32 (83.5506, 27.6279) -> (-17.8488, 86.1709) centre (0, 0) ccw projected
  arc A33 (-17.8488, 86.1709) -> (-19.1752, 83.2124) centre (-17.4432, 84.2124) ccw projected
  line L10 (-19.1752, 83.2124) -> (-16.7099, 78.9425) projected
  arc A34 (-17.442, 76.2104) -> (-16.7099, 78.9425) centre (-18.442, 77.9425) ccw projected
  line L11 (-17.442, 76.2104) -> (-57.2792, 53.2104) projected
  arc A35 (-60.0112, 53.9425) -> (-57.2792, 53.2104) centre (-58.2792, 54.9425) ccw projected
  line L12 (-60.0112, 53.9425) -> (-62.4765, 58.2124) projected
  point P0 (-74.0231, -45)
  point P1 (-75.6241, 45)
  point P2 (-74.0231, 45)
  dimension "d150" = 1.601
extrude "Выдавливание8" cut sketch "Эскиз12" against normal blind 10 contours L3 L0 A0 | L1 A1 L0
fillet "Сопряжение4" radius 2 2 edges at (-74.0231, 1.5, 47.5877) (-74.0231, 1.5, -47.5877)
sketch "Эскиз13" plane through (0, 3, 0) normal (0, 1, 0) x (1, 0, 0)
  line L0 (-66.1241, -45) -> (-74.0231, -45)
  line L1 (-74.0231, -45) -> (-74.0231, -43.799)
  line L2 (-74.0231, -43.799) -> (-66.1241, -43.799)
  line L3 (-66.1241, -43.799) -> (-66.1241, -45)
  circle A0 centre (69.7211, -17) radius 1.5 projected
  circle A1 centre (69.7211, 17) radius 1.5 projected
  circle A2 centre (-49.583, 51.8803) radius 1.5 projected
  circle A3 centre (-20.1381, 68.8803) radius 1.5 projected
  circle A4 centre (-20.1381, -68.8803) radius 1.5 projected
  circle A5 centre (-49.583, -51.8803) radius 1.5 projected
  circle A6 centre (-66.713, -51.0429) radius 1.5 projected
  circle A7 centre (76.1299, 35.4999) radius 1.5 projected
  circle A8 centre (-7.3211, -83.6804) radius 1.5 projected
  circle A9 centre (42, 72.7461) radius 1.5 projected
  circle A10 centre (-66.713, 51.0429) radius 1.5 projected
  circle A11 centre (76.1299, -35.4999) radius 1.5 projected
  circle A12 centre (42, -72.7461) radius 1.5 projected
  circle A13 centre (-7.3211, 83.6804) radius 1.5 projected
  circle A14 centre (-33.0241, -3.1) radius 1.5 projected
  circle A15 centre (-49.4241, 3.1) radius 1.5 projected
  circle A16 centre (-39.0241, 4.6) radius 1.5 projected
  circle A17 centre (-50.4241, -4.6) radius 1.5 projected
  circle A18 centre (24, 72) radius 3 projected
  circle A19 centre (24, -72) radius 3 projected
  arc A20 (-73.698, 48.0895) -> (-74.0231, 46.9966) centre (-72.0231, 46.9966) ccw projected
  line L4 (-74.0231, 46.9966) -> (-74.0231, 45) projected
  line L5 (-74.0231, 45) -> (-66.1241, 45) projected
  line L6 (-66.1241, 45) -> (-66.1241, -45) projected
  line L7 (-66.1241, -45) -> (-74.0231, -45) projected
  line L8 (-74.0231, -45) -> (-74.0231, -46.9966) projected
  arc A21 (-74.0231, -46.9966) -> (-73.698, -48.0895) centre (-72.0231, -46.9966) ccw projected
  arc A22 (-73.698, -48.0895) -> (-65.7018, -58.543) centre (0, 0) ccw projected
  arc A23 (-65.7018, -58.543) -> (-62.4765, -58.2124) centre (-64.2085, -57.2124) ccw projected
  line L9 (-62.4765, -58.2124) -> (-60.0112, -53.9425) projected
  arc A24 (-57.2792, -53.2104) -> (-60.0112, -53.9425) centre (-58.2792, -54.9425) ccw projected
  line L10 (-57.2792, -53.2104) -> (-17.442, -76.2104) projected
  arc A25 (-16.7099, -78.9425) -> (-17.442, -76.2104) centre (-18.442, -77.9425) ccw projected
  line L11 (-16.7099, -78.9425) -> (-19.1752, -83.2124) projected
  arc A26 (-19.1752, -83.2124) -> (-17.8488, -86.1709) centre (-17.4432, -84.2124) ccw projected
  arc A27 (-17.8488, -86.1709) -> (83.5506, -27.6279) centre (0, 0) ccw projected
  arc A28 (83.5506, -27.6279) -> (81.6517, -25) centre (81.6517, -27) ccw projected
  line L12 (81.6517, -25) -> (76.7211, -25) projected
  arc A29 (74.7211, -23) -> (76.7211, -25) centre (76.7211, -23) ccw projected
  line L13 (74.7211, -23) -> (74.7211, 23) projected
  arc A30 (76.7211, 25) -> (74.7211, 23) centre (76.7211, 23) ccw projected
  line L14 (76.7211, 25) -> (81.6517, 25) projected
  arc A31 (81.6517, 25) -> (83.5506, 27.6279) centre (81.6517, 27) ccw projected
  arc A32 (83.5506, 27.6279) -> (-17.8488, 86.1709) centre (0, 0) ccw projected
  arc A33 (-17.8488, 86.1709) -> (-19.1752, 83.2124) centre (-17.4432, 84.2124) ccw projected
  line L15 (-19.1752, 83.2124) -> (-16.7099, 78.9425) projected
  arc A34 (-17.442, 76.2104) -> (-16.7099, 78.9425) centre (-18.442, 77.9425) ccw projected
  line L16 (-17.442, 76.2104) -> (-57.2792, 53.2104) projected
  arc A35 (-60.0112, 53.9425) -> (-57.2792, 53.2104) centre (-58.2792, 54.9425) ccw projected
  line L17 (-60.0112, 53.9425) -> (-62.4765, 58.2124) projected
  arc A36 (-62.4765, 58.2124) -> (-65.7018, 58.543) centre (-64.2085, 57.2124) ccw projected
  arc A37 (-65.7018, 58.543) -> (-73.698, 48.0895) centre (0, 0) ccw projected
  line L18 (-74.0231, -45) -> (-74.0231, -46.9966) projected
  line L19 (-66.1241, 0) -> (74.7211, 0) construction
  line L20 (-66.1241, 45) -> (-74.0231, 45)
  line L21 (-74.0231, 45) -> (-74.0231, 43.799)
  line L22 (-74.0231, 43.799) -> (-66.1241, 43.799)
  line L23 (-66.1241, 43.799) -> (-66.1241, 45)
  line L24 (-66.1241, 45) -> (-74.0231, 45)
  line L25 (-74.0231, 45) -> (-74.0231, 46.9966)
  line L26 (-74.0231, 45) -> (-74.0231, 46.9966)
  point P0 (-70.0736, -43.799)
  point P1 (-72.0231, 46.9966)
  point P2 (-70.0736, 43.799)
  dimension "d156" = 1.201
extrude "Выдавливание9" add sketch "Эскиз13" against normal blind 3 contours L0 L1 L2 L3 | L22 L21 L5 L6
equation "\"d15\" = 0.5 * d14"
equation "\"d133\" = d132"
properties part number "V_1"
